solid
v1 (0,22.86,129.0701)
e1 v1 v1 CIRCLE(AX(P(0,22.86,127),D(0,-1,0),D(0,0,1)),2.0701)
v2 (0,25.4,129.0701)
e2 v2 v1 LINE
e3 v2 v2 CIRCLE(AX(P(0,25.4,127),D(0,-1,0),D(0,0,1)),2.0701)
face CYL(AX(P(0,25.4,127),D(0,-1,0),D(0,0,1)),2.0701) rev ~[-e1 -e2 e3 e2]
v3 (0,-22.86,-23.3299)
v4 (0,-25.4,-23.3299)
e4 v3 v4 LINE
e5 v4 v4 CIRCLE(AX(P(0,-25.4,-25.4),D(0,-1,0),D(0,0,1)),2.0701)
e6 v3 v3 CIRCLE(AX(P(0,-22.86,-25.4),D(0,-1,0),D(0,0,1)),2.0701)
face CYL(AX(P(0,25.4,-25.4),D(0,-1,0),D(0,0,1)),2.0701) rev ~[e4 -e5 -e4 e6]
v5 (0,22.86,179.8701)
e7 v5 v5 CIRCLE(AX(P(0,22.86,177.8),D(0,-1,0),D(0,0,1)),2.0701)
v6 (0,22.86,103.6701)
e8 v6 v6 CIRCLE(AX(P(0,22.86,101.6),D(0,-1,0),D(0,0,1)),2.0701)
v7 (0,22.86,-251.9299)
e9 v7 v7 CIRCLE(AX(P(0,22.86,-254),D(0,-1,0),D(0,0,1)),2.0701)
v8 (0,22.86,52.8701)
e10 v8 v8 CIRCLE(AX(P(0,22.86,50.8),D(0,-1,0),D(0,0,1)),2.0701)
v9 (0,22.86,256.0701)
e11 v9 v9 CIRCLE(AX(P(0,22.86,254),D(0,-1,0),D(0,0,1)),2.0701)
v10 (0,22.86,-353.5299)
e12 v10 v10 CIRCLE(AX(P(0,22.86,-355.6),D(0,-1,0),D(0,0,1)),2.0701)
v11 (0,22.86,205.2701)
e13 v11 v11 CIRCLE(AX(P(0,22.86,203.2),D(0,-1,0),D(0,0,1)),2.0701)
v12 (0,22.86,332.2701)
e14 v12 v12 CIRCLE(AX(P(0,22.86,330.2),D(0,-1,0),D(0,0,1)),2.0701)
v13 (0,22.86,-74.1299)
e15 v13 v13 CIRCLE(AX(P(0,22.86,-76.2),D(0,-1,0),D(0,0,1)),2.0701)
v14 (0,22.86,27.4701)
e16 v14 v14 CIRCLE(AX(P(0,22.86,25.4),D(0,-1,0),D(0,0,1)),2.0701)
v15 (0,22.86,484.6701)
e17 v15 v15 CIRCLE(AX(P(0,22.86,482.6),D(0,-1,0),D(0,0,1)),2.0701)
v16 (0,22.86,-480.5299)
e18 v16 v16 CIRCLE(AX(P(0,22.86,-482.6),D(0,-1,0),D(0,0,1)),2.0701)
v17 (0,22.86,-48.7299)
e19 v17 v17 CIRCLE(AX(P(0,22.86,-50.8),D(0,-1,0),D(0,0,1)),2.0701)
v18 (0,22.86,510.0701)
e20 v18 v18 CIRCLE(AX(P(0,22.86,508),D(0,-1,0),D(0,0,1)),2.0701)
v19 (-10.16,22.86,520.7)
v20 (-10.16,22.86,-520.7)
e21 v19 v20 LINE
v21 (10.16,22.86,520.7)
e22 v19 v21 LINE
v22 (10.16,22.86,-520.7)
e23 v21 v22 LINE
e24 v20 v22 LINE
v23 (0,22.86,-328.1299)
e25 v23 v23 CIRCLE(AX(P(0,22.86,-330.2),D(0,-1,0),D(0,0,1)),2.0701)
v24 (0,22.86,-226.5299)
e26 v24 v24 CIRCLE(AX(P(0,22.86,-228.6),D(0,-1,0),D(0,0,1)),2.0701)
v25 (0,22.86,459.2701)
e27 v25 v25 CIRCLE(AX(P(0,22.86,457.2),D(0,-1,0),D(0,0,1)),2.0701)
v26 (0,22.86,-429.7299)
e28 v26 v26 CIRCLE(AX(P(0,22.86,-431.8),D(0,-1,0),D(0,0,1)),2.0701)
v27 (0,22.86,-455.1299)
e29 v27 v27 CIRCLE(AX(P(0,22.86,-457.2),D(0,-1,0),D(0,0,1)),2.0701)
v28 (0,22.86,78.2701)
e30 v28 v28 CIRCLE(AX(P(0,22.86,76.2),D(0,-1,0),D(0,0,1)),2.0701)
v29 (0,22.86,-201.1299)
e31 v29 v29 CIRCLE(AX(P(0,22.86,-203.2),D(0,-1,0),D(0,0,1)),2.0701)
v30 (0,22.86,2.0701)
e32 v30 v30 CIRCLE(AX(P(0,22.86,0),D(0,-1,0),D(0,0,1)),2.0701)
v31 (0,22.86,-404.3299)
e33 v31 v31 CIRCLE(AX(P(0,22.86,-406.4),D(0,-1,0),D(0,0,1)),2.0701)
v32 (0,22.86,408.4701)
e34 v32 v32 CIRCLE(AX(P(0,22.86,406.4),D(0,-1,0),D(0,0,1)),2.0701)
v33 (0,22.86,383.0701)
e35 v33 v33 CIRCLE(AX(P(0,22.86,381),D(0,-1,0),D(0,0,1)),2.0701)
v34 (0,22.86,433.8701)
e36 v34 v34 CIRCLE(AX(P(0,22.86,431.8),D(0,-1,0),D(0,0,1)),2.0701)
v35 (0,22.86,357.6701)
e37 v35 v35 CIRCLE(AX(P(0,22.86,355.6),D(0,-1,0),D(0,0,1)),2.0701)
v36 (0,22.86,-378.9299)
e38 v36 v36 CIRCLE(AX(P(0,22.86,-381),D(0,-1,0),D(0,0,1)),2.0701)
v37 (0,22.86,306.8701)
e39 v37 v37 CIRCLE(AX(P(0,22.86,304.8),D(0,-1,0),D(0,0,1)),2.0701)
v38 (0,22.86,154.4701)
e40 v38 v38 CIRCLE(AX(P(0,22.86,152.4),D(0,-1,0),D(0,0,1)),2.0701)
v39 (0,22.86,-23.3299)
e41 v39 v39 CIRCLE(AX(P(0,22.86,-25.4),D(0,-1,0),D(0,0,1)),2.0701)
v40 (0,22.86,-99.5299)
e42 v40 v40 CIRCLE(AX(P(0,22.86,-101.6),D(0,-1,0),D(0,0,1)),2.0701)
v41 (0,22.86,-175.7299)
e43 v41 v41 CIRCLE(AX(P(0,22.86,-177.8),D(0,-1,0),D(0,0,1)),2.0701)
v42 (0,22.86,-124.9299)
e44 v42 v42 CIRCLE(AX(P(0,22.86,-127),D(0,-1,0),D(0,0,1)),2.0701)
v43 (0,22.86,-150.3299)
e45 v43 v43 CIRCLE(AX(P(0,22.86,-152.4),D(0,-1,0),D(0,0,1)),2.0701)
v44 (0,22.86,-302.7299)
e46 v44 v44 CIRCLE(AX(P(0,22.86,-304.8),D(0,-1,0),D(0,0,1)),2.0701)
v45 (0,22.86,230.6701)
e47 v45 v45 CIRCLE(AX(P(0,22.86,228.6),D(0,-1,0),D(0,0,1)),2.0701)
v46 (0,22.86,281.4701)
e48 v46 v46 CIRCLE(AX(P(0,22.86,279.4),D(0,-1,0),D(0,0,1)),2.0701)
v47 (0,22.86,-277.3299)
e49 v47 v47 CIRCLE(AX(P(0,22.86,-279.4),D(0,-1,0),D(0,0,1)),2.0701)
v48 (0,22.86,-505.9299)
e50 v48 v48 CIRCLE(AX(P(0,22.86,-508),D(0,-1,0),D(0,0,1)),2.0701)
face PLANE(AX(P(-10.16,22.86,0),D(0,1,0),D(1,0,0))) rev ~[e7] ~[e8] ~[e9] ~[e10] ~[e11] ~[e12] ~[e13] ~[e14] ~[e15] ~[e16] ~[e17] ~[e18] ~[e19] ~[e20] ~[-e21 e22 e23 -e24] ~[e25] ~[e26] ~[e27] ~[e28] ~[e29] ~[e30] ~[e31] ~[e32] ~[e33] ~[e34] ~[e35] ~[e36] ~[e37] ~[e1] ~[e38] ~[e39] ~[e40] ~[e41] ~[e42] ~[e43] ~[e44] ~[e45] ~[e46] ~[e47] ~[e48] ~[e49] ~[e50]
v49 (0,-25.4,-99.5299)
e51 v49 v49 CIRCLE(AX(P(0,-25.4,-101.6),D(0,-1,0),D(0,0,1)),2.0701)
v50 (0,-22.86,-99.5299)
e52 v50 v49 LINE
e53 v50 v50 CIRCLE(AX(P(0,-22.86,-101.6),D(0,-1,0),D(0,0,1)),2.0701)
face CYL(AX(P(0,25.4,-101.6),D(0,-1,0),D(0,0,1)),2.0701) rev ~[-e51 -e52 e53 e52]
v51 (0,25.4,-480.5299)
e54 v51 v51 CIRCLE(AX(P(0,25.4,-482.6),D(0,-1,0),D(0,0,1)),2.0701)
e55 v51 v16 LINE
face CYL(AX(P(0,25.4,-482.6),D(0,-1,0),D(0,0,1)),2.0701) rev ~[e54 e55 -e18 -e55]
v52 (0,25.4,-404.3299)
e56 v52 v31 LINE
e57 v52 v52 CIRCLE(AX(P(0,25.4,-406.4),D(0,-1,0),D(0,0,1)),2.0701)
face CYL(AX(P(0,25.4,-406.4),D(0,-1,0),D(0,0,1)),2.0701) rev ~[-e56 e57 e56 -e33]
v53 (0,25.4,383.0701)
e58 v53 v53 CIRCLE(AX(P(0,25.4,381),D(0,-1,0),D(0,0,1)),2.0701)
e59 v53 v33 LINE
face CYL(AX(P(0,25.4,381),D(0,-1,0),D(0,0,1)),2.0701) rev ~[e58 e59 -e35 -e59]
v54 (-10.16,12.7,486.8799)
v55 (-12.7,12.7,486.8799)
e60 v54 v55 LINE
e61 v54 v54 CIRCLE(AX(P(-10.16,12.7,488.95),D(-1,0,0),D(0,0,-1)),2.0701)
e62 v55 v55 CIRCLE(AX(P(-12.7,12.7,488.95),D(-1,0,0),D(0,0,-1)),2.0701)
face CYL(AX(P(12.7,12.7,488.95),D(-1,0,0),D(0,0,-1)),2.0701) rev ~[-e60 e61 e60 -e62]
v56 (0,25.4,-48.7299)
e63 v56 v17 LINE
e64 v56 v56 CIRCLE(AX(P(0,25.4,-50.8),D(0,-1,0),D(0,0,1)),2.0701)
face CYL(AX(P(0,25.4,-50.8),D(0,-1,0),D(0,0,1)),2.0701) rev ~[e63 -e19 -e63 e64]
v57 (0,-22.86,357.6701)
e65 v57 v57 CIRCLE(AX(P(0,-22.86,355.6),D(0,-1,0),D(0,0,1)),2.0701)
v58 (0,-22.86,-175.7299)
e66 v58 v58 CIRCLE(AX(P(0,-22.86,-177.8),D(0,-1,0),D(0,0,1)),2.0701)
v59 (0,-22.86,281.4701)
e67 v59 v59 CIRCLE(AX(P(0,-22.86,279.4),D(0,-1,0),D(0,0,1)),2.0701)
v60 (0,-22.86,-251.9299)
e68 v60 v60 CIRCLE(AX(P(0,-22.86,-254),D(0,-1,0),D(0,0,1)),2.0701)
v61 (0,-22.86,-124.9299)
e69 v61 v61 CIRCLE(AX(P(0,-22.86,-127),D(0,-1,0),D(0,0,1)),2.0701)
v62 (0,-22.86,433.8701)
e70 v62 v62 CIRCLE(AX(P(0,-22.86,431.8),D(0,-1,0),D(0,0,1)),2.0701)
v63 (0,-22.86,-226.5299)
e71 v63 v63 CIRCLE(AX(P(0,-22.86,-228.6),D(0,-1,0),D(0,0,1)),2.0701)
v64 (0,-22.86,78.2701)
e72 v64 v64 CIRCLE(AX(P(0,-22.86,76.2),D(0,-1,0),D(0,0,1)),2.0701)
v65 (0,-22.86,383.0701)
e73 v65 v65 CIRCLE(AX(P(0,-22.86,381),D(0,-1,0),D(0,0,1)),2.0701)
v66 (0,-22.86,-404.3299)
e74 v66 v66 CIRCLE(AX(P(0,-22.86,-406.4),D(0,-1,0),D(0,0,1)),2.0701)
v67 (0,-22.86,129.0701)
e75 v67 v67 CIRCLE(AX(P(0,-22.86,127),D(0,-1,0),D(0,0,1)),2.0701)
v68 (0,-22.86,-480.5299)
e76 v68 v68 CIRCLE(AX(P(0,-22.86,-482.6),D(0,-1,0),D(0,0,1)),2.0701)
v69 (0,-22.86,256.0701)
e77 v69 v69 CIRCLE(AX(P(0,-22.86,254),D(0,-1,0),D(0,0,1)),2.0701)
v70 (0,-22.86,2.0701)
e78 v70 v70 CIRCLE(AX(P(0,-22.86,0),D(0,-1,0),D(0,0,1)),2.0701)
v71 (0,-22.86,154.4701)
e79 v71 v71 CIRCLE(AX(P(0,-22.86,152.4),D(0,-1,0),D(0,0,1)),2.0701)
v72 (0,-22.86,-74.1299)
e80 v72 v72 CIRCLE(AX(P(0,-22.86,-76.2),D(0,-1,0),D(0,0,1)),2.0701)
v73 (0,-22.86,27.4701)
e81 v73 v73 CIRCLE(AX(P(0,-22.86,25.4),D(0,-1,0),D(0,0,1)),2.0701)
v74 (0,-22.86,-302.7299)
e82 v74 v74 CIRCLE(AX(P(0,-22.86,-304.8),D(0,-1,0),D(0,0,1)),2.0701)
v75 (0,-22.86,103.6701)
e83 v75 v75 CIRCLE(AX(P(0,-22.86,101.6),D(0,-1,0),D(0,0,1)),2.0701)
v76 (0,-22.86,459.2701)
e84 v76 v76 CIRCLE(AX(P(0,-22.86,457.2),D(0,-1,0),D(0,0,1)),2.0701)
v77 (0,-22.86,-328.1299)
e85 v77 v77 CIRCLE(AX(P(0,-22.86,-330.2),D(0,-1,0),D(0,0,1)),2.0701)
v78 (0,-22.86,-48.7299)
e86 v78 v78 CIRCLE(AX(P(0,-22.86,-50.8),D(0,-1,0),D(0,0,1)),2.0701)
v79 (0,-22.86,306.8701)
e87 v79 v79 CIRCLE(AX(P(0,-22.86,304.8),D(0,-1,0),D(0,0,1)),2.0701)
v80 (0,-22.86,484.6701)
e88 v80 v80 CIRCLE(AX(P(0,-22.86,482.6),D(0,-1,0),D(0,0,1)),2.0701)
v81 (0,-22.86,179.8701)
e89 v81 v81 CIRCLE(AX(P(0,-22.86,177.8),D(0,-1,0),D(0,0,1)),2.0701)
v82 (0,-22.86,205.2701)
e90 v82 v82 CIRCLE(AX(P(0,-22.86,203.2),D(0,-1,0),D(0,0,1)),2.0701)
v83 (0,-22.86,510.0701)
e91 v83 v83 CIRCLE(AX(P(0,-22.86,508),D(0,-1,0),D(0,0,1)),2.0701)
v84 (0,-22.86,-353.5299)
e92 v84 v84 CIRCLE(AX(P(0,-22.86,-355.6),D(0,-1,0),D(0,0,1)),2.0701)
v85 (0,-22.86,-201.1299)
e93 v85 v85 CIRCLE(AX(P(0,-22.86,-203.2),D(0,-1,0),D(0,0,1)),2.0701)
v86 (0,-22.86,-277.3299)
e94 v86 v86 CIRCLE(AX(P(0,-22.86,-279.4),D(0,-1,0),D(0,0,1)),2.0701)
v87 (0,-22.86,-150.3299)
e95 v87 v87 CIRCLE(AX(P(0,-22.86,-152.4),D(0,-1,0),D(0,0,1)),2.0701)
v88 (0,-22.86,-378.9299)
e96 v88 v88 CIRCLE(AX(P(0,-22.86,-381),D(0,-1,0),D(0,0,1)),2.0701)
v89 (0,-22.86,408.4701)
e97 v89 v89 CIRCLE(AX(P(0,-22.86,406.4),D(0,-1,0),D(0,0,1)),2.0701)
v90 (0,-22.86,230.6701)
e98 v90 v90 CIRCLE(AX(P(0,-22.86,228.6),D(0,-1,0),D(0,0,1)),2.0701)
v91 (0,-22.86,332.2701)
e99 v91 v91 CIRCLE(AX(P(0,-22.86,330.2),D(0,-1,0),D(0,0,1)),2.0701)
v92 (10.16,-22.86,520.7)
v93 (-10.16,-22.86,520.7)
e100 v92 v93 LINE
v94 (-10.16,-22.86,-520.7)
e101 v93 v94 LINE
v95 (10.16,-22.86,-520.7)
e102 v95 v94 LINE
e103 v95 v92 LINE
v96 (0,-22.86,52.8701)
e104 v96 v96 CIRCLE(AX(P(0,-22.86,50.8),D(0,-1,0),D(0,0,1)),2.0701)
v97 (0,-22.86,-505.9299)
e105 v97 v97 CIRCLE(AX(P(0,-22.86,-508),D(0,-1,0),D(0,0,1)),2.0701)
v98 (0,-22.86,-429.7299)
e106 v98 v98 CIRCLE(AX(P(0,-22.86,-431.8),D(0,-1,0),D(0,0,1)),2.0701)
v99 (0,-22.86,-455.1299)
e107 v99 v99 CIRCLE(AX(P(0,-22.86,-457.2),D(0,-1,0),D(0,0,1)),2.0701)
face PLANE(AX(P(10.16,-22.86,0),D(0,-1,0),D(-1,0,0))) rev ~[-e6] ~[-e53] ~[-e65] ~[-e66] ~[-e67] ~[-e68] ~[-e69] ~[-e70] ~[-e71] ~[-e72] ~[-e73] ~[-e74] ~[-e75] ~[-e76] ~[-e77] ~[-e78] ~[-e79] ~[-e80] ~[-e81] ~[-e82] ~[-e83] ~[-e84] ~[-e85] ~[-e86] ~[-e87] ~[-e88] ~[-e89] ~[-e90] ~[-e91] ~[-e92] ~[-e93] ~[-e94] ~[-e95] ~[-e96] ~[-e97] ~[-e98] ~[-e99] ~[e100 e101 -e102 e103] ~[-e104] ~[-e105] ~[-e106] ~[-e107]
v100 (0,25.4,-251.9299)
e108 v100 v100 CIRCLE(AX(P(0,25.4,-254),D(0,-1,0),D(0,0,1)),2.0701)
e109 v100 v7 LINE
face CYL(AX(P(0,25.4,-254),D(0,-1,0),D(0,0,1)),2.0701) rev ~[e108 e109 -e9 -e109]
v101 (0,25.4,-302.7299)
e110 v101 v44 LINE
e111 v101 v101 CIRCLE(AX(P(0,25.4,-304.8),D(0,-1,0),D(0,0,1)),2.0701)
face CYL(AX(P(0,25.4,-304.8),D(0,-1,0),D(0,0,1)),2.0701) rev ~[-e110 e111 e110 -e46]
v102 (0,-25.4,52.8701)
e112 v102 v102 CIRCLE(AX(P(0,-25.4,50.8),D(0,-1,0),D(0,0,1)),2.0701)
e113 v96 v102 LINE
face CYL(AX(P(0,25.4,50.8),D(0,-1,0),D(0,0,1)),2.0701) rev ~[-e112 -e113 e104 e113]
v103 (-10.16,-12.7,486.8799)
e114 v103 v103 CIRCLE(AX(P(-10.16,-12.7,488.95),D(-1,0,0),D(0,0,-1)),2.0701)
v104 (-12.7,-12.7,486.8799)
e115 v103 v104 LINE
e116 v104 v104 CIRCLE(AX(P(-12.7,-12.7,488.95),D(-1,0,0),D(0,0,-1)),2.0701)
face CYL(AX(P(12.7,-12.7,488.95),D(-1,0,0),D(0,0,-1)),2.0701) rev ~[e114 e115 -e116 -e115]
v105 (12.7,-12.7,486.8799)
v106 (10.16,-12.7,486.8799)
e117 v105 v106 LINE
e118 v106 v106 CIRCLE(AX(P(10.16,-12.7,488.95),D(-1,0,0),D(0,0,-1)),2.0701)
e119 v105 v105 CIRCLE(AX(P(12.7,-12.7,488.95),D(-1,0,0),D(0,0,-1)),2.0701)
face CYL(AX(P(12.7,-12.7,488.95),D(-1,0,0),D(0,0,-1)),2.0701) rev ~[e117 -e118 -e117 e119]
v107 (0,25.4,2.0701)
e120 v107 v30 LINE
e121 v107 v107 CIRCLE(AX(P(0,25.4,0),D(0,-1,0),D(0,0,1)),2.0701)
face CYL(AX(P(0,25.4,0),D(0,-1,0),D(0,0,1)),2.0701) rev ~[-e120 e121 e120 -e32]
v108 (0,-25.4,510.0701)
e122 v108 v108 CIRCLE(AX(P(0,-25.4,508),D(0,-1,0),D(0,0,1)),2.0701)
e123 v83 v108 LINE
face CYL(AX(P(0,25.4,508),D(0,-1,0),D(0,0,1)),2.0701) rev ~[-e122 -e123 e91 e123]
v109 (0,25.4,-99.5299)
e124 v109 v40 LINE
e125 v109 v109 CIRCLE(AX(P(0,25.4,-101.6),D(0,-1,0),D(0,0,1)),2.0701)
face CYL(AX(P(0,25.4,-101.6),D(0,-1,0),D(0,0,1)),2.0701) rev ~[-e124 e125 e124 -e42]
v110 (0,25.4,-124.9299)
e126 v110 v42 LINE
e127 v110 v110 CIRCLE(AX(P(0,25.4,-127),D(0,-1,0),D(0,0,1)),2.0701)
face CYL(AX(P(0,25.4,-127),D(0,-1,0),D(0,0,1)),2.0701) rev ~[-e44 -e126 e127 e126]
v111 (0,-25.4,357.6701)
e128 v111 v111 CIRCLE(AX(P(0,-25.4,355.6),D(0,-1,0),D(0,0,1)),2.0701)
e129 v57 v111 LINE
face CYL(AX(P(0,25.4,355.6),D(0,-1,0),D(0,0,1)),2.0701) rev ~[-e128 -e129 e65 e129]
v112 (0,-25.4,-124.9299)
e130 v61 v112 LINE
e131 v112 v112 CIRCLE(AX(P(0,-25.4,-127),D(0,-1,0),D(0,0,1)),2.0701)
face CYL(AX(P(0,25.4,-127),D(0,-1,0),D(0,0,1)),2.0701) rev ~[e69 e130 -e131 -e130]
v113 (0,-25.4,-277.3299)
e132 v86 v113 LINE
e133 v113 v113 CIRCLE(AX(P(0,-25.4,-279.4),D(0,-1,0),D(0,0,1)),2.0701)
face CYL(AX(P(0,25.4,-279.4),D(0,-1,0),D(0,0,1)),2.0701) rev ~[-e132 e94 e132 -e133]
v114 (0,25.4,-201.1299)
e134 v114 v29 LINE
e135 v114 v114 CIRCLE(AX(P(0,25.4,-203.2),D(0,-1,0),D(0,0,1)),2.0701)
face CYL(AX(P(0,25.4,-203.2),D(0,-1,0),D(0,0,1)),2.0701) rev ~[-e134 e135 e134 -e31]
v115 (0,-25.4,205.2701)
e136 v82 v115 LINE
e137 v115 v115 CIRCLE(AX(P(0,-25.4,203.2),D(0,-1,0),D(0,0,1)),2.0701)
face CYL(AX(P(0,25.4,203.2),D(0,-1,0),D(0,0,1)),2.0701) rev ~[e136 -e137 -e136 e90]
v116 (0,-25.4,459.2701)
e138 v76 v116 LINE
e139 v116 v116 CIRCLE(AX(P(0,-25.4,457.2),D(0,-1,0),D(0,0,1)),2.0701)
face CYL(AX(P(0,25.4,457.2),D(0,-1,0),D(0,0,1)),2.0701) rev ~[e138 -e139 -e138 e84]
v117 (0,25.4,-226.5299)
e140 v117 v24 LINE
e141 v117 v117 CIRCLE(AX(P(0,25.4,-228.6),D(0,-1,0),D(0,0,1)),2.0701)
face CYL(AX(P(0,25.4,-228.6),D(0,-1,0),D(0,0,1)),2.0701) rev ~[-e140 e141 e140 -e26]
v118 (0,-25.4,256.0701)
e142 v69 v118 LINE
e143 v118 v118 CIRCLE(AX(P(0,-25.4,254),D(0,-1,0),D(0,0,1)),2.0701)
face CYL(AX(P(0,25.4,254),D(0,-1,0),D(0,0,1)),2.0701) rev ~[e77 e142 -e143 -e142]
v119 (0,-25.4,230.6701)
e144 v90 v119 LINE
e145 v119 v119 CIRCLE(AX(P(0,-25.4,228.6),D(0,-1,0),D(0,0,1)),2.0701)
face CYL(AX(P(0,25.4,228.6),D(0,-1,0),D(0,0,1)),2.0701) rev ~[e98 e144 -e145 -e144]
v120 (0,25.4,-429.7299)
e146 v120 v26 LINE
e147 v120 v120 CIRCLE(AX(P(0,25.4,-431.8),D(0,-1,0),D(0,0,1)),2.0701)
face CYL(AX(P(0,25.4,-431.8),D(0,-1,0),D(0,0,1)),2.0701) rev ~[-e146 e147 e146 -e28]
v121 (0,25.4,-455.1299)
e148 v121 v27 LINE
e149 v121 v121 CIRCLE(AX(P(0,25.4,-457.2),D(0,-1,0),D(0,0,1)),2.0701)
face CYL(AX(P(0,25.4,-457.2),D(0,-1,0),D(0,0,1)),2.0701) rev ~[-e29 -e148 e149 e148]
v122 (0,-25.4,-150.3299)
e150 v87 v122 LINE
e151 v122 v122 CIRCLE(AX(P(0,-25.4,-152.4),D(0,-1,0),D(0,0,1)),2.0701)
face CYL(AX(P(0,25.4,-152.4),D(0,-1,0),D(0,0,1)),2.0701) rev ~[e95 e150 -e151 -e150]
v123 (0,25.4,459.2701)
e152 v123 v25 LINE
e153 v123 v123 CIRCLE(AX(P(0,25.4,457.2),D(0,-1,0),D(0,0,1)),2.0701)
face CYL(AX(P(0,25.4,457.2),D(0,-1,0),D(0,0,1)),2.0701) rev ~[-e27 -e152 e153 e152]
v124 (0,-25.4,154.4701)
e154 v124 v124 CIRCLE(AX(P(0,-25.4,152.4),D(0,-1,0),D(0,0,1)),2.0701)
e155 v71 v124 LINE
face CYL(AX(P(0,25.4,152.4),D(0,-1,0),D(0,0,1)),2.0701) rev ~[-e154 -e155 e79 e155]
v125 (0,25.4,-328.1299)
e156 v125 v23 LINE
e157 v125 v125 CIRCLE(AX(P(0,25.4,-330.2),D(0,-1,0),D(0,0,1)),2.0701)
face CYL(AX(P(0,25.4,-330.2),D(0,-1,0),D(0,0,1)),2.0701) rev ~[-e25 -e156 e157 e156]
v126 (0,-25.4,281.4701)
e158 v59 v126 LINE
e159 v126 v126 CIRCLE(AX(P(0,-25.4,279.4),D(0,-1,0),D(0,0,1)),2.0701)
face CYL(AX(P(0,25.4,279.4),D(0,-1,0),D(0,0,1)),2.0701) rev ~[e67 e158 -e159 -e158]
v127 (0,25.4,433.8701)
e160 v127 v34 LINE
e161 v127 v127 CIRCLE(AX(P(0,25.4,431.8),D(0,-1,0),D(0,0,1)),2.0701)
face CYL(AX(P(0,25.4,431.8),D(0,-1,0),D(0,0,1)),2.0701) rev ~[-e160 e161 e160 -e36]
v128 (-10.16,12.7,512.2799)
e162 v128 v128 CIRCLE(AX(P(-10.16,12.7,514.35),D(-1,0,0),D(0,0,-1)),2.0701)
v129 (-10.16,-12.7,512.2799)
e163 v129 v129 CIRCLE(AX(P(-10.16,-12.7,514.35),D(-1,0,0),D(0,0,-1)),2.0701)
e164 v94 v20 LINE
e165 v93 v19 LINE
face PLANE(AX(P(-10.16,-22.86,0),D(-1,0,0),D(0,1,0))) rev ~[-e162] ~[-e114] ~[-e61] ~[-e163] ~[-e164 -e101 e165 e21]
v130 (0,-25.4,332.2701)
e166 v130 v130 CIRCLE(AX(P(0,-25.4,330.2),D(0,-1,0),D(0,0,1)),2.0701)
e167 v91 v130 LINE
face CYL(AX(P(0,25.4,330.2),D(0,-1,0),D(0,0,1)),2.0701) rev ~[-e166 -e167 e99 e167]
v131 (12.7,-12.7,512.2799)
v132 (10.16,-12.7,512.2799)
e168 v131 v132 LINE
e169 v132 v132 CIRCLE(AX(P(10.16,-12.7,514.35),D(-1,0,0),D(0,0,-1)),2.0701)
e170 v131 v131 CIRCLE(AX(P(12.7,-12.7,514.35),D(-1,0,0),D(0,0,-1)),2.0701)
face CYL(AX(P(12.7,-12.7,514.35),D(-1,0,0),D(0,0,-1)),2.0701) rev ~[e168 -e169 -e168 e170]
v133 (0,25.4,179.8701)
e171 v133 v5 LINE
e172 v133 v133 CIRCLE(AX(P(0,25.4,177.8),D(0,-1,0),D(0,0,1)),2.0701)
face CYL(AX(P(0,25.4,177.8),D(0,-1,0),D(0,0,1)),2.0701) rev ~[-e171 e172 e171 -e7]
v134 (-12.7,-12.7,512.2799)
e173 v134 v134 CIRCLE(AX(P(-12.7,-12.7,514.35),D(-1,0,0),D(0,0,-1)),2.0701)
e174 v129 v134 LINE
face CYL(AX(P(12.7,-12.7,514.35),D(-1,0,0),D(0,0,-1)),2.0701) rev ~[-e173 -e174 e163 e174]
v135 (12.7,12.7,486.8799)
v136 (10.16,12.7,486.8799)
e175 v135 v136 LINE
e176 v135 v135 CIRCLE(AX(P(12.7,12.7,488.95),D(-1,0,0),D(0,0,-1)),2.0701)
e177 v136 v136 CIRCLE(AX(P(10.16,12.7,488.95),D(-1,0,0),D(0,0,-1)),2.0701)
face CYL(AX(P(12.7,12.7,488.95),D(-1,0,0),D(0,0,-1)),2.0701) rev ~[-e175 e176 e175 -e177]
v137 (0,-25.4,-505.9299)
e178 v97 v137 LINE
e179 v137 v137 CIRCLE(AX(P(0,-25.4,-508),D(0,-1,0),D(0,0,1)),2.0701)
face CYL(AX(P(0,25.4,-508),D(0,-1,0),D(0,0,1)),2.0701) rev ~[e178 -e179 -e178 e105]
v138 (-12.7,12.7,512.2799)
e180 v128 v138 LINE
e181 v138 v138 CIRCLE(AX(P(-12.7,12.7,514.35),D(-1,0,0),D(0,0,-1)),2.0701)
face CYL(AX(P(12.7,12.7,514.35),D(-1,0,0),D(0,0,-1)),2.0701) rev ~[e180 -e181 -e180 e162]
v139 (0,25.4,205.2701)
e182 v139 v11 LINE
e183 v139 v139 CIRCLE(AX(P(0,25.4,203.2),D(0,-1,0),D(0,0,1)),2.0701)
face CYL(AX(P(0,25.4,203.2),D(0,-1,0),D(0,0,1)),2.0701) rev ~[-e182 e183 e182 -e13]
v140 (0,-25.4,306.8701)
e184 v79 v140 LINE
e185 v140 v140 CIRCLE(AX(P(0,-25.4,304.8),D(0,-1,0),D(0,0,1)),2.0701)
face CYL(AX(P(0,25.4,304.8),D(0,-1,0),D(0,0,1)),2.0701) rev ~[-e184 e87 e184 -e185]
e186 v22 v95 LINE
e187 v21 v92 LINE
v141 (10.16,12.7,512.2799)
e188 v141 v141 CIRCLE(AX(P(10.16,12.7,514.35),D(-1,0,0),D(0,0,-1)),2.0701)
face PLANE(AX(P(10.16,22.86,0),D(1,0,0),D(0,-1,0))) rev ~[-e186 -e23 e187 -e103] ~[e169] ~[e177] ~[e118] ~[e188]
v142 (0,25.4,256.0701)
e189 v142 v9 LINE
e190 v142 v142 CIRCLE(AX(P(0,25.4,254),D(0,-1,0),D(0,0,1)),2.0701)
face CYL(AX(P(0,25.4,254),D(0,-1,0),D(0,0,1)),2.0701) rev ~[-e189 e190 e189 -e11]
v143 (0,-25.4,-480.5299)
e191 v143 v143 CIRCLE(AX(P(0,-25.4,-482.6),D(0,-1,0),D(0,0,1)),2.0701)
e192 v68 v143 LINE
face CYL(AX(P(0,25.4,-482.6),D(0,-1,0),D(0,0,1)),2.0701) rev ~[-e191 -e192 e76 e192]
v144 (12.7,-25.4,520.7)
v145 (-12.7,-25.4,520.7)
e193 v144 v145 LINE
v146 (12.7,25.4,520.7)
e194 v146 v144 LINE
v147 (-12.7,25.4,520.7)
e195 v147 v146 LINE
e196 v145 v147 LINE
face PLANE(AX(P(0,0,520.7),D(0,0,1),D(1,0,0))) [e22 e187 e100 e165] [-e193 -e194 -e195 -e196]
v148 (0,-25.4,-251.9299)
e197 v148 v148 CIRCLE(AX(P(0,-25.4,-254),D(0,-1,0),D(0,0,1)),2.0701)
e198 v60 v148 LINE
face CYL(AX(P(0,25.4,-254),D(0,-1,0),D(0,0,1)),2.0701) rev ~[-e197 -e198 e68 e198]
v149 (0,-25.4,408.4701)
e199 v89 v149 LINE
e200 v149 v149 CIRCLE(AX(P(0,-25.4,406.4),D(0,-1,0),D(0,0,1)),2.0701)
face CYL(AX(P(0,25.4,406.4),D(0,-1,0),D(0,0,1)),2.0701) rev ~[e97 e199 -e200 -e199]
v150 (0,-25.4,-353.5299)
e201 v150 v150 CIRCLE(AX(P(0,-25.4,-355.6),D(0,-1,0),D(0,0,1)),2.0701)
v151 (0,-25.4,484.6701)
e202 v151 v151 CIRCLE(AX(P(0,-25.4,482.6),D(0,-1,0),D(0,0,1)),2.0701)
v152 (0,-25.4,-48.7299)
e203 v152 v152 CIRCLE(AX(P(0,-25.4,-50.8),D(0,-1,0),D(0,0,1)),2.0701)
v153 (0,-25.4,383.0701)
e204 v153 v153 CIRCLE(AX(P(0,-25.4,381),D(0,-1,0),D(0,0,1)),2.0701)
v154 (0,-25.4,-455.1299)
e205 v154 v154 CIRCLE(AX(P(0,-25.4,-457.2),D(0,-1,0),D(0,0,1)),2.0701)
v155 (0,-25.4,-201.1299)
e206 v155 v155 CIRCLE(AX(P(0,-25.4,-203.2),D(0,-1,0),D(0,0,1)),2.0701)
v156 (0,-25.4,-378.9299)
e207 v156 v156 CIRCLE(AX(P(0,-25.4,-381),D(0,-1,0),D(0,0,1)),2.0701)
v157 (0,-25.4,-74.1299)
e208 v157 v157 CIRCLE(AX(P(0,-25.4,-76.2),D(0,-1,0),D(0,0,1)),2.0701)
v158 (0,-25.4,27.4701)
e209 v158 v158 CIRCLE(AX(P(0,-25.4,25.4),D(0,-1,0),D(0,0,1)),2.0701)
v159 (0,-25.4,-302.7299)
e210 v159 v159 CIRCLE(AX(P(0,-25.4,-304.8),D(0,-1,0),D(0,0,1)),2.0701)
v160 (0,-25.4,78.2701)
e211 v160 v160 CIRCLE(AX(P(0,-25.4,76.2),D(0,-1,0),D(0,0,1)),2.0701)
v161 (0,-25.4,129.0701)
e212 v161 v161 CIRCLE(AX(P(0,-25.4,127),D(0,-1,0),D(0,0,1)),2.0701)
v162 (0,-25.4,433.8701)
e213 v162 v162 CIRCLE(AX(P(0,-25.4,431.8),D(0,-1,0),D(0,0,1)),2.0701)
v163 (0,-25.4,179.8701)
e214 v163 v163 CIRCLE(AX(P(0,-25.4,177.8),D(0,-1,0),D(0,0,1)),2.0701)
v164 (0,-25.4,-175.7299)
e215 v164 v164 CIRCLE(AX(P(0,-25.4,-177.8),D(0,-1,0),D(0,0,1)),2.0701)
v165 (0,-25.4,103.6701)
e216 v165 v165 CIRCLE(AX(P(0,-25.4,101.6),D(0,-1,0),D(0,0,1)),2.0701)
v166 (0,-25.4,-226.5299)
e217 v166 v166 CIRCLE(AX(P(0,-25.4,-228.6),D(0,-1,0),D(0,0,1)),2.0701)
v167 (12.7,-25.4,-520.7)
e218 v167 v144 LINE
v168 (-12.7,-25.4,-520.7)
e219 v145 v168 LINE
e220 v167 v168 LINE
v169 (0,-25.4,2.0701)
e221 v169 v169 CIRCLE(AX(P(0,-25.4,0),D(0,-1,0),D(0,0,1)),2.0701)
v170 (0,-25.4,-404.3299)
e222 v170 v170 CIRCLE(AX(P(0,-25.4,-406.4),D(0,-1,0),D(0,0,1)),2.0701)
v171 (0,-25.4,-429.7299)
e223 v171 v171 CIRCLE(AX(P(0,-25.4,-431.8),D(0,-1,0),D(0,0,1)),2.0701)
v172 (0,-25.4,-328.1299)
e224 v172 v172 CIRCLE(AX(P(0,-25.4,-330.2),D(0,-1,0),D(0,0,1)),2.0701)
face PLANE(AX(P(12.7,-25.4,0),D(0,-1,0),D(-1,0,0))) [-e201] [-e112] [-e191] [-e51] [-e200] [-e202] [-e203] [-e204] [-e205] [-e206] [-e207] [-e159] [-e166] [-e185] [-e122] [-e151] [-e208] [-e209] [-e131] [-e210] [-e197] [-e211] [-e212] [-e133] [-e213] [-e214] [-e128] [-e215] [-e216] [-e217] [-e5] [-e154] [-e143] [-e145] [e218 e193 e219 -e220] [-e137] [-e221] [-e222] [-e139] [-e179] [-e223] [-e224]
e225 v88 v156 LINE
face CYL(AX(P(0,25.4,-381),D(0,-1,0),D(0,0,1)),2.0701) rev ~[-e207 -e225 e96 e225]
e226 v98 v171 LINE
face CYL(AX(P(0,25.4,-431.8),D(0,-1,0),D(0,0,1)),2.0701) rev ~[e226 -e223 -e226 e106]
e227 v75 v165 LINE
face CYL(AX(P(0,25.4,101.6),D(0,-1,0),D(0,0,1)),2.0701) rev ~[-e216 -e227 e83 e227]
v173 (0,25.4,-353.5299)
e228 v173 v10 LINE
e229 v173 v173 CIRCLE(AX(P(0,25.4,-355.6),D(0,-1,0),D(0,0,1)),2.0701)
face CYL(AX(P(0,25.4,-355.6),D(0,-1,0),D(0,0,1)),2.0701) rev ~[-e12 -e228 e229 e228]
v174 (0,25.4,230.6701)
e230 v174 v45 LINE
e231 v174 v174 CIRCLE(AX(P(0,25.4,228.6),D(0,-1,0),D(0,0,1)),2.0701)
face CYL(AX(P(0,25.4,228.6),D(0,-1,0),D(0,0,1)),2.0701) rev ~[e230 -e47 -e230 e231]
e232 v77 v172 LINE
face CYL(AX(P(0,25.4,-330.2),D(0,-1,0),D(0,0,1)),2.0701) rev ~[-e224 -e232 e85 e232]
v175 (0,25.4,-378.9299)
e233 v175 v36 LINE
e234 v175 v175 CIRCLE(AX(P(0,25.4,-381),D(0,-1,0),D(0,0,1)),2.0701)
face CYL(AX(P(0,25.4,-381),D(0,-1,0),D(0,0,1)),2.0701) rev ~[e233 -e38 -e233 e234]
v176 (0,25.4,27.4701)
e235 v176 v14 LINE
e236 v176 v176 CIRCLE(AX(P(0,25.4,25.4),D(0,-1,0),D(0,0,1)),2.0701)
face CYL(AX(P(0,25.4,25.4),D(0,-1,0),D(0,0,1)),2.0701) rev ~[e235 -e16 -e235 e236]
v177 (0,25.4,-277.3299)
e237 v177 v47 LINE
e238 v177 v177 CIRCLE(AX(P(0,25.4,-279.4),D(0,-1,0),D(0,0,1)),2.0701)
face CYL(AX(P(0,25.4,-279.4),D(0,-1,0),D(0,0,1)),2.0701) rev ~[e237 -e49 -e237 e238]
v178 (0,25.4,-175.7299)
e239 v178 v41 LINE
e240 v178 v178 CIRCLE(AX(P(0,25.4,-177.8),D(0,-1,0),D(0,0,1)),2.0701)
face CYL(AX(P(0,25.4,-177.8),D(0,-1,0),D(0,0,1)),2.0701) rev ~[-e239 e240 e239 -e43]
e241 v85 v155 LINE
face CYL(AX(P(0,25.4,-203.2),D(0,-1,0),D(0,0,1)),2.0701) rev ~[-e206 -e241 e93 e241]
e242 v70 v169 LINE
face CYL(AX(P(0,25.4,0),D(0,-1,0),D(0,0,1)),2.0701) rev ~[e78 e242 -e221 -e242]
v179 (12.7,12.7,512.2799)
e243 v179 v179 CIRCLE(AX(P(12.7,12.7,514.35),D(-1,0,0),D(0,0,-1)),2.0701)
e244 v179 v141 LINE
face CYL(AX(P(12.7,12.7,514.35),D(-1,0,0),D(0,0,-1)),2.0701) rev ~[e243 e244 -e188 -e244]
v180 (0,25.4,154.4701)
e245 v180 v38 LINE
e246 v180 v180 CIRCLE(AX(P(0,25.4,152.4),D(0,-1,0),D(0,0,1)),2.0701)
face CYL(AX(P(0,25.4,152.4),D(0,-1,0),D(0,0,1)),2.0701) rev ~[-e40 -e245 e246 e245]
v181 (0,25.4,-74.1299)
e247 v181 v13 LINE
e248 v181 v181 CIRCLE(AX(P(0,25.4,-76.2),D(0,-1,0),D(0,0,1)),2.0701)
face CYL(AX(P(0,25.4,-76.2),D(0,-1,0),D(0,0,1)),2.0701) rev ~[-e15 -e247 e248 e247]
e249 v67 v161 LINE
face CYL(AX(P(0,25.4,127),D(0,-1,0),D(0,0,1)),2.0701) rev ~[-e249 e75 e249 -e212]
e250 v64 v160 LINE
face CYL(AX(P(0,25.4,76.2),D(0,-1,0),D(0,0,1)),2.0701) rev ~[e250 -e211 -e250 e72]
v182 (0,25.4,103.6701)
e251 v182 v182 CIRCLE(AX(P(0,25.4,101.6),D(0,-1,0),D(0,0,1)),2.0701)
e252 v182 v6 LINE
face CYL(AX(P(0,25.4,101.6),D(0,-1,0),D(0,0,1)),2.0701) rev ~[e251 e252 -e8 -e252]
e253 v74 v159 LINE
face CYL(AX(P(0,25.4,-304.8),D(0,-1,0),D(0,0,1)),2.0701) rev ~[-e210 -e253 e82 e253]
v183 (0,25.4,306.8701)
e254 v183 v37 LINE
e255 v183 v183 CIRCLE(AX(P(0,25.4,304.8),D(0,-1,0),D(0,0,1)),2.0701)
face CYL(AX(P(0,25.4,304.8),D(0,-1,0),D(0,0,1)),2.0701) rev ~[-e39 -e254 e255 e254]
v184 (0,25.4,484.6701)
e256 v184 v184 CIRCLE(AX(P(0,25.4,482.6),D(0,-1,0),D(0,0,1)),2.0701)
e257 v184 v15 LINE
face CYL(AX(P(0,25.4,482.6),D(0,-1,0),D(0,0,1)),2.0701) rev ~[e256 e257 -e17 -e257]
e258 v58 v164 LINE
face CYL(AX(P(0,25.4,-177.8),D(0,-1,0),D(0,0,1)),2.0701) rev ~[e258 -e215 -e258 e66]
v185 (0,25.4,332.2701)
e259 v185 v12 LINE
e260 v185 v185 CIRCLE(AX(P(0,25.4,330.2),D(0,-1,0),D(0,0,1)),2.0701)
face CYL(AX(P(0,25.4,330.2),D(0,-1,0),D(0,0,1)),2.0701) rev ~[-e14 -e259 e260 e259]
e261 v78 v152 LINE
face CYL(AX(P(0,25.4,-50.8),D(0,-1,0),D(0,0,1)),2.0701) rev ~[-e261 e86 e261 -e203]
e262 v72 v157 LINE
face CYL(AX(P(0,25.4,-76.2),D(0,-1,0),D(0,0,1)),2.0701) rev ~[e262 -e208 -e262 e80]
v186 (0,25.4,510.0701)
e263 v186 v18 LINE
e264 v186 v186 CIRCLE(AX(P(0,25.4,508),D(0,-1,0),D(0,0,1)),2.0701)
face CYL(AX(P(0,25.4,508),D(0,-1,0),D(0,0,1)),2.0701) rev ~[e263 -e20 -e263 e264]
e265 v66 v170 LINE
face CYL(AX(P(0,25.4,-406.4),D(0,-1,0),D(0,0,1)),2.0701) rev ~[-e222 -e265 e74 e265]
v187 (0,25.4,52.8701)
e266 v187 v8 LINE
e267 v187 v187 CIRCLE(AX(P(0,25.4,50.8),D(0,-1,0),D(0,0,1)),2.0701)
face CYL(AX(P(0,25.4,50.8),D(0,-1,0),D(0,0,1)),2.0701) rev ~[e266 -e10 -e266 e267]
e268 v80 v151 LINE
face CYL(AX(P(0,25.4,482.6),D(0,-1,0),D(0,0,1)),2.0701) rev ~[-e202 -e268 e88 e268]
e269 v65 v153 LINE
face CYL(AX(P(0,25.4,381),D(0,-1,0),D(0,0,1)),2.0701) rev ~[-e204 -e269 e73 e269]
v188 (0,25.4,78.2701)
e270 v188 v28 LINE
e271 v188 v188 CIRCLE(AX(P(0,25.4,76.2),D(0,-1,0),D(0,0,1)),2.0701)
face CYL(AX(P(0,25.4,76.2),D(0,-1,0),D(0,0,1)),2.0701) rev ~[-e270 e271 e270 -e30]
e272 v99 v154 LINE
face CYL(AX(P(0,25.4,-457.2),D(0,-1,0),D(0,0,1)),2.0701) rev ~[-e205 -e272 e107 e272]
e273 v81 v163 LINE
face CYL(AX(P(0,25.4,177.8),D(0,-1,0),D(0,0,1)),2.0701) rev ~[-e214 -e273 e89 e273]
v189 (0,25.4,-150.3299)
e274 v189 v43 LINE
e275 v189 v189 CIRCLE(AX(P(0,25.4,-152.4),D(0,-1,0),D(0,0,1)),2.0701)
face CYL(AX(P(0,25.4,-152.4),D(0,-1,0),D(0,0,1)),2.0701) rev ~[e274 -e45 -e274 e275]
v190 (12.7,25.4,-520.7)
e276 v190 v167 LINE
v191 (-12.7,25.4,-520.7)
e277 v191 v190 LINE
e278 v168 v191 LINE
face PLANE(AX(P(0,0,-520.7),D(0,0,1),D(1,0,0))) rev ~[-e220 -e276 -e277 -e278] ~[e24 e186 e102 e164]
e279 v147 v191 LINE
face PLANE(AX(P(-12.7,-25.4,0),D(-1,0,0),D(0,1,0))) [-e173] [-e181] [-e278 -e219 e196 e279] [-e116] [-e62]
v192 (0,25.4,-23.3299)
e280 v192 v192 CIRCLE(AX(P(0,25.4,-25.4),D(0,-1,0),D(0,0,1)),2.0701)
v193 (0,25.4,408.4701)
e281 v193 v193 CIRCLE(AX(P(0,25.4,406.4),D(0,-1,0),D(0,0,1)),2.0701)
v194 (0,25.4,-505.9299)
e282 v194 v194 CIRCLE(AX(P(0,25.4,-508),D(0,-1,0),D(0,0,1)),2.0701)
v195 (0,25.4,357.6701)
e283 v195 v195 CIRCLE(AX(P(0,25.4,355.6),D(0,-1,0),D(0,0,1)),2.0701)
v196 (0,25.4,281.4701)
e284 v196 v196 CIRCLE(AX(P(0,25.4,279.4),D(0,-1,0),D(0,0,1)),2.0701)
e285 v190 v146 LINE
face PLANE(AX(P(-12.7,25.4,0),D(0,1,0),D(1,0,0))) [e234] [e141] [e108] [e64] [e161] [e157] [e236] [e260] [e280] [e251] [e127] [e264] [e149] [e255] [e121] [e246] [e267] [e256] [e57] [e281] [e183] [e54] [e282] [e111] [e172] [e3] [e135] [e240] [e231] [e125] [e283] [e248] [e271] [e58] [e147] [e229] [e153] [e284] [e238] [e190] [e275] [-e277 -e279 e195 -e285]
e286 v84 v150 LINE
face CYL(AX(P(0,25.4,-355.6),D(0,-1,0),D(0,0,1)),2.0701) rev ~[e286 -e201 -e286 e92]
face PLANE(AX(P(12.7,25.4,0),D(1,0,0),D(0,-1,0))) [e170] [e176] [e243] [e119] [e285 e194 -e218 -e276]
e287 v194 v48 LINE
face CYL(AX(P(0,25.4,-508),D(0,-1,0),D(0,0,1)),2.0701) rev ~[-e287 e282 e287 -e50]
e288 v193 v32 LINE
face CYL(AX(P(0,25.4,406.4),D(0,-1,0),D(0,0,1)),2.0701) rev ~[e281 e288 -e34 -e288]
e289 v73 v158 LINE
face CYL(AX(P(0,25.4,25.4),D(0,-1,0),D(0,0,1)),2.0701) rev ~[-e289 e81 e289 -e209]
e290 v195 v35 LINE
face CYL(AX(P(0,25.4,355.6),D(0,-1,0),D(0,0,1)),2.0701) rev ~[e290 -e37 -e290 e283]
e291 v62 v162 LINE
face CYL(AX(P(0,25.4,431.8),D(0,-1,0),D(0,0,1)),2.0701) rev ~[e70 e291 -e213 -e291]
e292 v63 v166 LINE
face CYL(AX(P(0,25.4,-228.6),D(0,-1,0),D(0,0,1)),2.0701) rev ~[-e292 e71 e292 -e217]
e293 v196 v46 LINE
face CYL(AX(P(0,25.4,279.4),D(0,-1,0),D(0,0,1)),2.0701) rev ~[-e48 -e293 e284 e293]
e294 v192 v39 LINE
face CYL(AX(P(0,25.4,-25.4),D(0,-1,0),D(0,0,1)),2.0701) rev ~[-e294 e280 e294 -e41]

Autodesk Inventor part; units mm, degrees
ref_plane "YZ Plane" through (0, 0, 0) normal (1, 0, 0) x (0, 1, 0)
ref_plane "XZ Plane" through (0, 0, 0) normal (0, 1, 0) x (-1, 0, 0)
ref_plane "XY Plane" through (0, 0, 0) normal (0, 0, 1) x (1, 0, 0)
sketch "Sketch1" plane through (0, 0, 0) normal (0, 0, 1) x (1, 0, 0)
  line L0 (12.7, -25.4) -> (-12.7, -25.4)
  line L1 (-12.7, -25.4) -> (-12.7, 25.4)
  line L2 (-12.7, 25.4) -> (12.7, 25.4)
  line L3 (12.7, 25.4) -> (12.7, -25.4)
  line L4 (12.7, -25.4) -> (-12.7, 25.4) construction
  line L5 (-12.7, -25.4) -> (12.7, 25.4) construction
  line L6 (10.16, -22.86) -> (-10.16, -22.86)
  line L7 (-10.16, -22.86) -> (-10.16, 22.86)
  line L8 (-10.16, 22.86) -> (10.16, 22.86)
  line L9 (10.16, 22.86) -> (10.16, -22.86)
  line L10 (10.16, -22.86) -> (-10.16, 22.86) construction
  line L11 (-10.16, -22.86) -> (10.16, 22.86) construction
  point P0 (0, 0)
  dimension "d0" = 25.4
  dimension "d1" = 50.8
  dimension "d2" = 20.32
  dimension "d3" = 45.72
extrude "Extrusion1" add sketch "Sketch1" along normal mid plane 1041.4
sketch "Sketch2" plane through (-12.7, 25.4, 520.7) normal (0, 1, 0) x (1, 0, 0)
  line L0 (0, 0) -> (0, 1041.4) projected
  line L1 (25.4, 0) -> (0, 0) projected
  point P0 (12.7, 520.7)
  point P1 (12.7, 12.7)
  dimension "d6" = 12.7
  dimension "d7" = 12.7
hole "Hole1" at (0, 25.4, 508) direction (0, -1, 0) diameter 4.1402 end through all
pattern_linear "Rectangular Pattern1" count 41 spacing 25.4 along (0, 0, -1) of "Hole1"
sketch "Sketch3" plane through (12.7, -25.4, 520.7) normal (1, 0, 0) x (0, 0, -1)
  line L0 (0, 50.8) -> (1041.4, 50.8) projected
  line L1 (0, 0) -> (0, 50.8) projected
  point P0 (520.7, 25.4)
  point P1 (6.35, 38.1)
  point P2 (6.35, 12.7)
  point P3 (31.75, 38.1)
  point P4 (31.75, 12.7)
  dimension "d18" = 12.7
  dimension "d19" = 25.4
  dimension "d20" = 25.4
  dimension "d22" = 25.4
  dimension "d23" = 6.35
hole "Hole2" at (12.7, 12.7, 514.35) at (12.7, -12.7, 514.35) at (12.7, 12.7, 488.95) at (12.7, -12.7, 488.95) direction (-1, 0, 0) diameter 4.1402 end through all
properties part number "elevator_12''_frame" material "Aluminum 6061"
